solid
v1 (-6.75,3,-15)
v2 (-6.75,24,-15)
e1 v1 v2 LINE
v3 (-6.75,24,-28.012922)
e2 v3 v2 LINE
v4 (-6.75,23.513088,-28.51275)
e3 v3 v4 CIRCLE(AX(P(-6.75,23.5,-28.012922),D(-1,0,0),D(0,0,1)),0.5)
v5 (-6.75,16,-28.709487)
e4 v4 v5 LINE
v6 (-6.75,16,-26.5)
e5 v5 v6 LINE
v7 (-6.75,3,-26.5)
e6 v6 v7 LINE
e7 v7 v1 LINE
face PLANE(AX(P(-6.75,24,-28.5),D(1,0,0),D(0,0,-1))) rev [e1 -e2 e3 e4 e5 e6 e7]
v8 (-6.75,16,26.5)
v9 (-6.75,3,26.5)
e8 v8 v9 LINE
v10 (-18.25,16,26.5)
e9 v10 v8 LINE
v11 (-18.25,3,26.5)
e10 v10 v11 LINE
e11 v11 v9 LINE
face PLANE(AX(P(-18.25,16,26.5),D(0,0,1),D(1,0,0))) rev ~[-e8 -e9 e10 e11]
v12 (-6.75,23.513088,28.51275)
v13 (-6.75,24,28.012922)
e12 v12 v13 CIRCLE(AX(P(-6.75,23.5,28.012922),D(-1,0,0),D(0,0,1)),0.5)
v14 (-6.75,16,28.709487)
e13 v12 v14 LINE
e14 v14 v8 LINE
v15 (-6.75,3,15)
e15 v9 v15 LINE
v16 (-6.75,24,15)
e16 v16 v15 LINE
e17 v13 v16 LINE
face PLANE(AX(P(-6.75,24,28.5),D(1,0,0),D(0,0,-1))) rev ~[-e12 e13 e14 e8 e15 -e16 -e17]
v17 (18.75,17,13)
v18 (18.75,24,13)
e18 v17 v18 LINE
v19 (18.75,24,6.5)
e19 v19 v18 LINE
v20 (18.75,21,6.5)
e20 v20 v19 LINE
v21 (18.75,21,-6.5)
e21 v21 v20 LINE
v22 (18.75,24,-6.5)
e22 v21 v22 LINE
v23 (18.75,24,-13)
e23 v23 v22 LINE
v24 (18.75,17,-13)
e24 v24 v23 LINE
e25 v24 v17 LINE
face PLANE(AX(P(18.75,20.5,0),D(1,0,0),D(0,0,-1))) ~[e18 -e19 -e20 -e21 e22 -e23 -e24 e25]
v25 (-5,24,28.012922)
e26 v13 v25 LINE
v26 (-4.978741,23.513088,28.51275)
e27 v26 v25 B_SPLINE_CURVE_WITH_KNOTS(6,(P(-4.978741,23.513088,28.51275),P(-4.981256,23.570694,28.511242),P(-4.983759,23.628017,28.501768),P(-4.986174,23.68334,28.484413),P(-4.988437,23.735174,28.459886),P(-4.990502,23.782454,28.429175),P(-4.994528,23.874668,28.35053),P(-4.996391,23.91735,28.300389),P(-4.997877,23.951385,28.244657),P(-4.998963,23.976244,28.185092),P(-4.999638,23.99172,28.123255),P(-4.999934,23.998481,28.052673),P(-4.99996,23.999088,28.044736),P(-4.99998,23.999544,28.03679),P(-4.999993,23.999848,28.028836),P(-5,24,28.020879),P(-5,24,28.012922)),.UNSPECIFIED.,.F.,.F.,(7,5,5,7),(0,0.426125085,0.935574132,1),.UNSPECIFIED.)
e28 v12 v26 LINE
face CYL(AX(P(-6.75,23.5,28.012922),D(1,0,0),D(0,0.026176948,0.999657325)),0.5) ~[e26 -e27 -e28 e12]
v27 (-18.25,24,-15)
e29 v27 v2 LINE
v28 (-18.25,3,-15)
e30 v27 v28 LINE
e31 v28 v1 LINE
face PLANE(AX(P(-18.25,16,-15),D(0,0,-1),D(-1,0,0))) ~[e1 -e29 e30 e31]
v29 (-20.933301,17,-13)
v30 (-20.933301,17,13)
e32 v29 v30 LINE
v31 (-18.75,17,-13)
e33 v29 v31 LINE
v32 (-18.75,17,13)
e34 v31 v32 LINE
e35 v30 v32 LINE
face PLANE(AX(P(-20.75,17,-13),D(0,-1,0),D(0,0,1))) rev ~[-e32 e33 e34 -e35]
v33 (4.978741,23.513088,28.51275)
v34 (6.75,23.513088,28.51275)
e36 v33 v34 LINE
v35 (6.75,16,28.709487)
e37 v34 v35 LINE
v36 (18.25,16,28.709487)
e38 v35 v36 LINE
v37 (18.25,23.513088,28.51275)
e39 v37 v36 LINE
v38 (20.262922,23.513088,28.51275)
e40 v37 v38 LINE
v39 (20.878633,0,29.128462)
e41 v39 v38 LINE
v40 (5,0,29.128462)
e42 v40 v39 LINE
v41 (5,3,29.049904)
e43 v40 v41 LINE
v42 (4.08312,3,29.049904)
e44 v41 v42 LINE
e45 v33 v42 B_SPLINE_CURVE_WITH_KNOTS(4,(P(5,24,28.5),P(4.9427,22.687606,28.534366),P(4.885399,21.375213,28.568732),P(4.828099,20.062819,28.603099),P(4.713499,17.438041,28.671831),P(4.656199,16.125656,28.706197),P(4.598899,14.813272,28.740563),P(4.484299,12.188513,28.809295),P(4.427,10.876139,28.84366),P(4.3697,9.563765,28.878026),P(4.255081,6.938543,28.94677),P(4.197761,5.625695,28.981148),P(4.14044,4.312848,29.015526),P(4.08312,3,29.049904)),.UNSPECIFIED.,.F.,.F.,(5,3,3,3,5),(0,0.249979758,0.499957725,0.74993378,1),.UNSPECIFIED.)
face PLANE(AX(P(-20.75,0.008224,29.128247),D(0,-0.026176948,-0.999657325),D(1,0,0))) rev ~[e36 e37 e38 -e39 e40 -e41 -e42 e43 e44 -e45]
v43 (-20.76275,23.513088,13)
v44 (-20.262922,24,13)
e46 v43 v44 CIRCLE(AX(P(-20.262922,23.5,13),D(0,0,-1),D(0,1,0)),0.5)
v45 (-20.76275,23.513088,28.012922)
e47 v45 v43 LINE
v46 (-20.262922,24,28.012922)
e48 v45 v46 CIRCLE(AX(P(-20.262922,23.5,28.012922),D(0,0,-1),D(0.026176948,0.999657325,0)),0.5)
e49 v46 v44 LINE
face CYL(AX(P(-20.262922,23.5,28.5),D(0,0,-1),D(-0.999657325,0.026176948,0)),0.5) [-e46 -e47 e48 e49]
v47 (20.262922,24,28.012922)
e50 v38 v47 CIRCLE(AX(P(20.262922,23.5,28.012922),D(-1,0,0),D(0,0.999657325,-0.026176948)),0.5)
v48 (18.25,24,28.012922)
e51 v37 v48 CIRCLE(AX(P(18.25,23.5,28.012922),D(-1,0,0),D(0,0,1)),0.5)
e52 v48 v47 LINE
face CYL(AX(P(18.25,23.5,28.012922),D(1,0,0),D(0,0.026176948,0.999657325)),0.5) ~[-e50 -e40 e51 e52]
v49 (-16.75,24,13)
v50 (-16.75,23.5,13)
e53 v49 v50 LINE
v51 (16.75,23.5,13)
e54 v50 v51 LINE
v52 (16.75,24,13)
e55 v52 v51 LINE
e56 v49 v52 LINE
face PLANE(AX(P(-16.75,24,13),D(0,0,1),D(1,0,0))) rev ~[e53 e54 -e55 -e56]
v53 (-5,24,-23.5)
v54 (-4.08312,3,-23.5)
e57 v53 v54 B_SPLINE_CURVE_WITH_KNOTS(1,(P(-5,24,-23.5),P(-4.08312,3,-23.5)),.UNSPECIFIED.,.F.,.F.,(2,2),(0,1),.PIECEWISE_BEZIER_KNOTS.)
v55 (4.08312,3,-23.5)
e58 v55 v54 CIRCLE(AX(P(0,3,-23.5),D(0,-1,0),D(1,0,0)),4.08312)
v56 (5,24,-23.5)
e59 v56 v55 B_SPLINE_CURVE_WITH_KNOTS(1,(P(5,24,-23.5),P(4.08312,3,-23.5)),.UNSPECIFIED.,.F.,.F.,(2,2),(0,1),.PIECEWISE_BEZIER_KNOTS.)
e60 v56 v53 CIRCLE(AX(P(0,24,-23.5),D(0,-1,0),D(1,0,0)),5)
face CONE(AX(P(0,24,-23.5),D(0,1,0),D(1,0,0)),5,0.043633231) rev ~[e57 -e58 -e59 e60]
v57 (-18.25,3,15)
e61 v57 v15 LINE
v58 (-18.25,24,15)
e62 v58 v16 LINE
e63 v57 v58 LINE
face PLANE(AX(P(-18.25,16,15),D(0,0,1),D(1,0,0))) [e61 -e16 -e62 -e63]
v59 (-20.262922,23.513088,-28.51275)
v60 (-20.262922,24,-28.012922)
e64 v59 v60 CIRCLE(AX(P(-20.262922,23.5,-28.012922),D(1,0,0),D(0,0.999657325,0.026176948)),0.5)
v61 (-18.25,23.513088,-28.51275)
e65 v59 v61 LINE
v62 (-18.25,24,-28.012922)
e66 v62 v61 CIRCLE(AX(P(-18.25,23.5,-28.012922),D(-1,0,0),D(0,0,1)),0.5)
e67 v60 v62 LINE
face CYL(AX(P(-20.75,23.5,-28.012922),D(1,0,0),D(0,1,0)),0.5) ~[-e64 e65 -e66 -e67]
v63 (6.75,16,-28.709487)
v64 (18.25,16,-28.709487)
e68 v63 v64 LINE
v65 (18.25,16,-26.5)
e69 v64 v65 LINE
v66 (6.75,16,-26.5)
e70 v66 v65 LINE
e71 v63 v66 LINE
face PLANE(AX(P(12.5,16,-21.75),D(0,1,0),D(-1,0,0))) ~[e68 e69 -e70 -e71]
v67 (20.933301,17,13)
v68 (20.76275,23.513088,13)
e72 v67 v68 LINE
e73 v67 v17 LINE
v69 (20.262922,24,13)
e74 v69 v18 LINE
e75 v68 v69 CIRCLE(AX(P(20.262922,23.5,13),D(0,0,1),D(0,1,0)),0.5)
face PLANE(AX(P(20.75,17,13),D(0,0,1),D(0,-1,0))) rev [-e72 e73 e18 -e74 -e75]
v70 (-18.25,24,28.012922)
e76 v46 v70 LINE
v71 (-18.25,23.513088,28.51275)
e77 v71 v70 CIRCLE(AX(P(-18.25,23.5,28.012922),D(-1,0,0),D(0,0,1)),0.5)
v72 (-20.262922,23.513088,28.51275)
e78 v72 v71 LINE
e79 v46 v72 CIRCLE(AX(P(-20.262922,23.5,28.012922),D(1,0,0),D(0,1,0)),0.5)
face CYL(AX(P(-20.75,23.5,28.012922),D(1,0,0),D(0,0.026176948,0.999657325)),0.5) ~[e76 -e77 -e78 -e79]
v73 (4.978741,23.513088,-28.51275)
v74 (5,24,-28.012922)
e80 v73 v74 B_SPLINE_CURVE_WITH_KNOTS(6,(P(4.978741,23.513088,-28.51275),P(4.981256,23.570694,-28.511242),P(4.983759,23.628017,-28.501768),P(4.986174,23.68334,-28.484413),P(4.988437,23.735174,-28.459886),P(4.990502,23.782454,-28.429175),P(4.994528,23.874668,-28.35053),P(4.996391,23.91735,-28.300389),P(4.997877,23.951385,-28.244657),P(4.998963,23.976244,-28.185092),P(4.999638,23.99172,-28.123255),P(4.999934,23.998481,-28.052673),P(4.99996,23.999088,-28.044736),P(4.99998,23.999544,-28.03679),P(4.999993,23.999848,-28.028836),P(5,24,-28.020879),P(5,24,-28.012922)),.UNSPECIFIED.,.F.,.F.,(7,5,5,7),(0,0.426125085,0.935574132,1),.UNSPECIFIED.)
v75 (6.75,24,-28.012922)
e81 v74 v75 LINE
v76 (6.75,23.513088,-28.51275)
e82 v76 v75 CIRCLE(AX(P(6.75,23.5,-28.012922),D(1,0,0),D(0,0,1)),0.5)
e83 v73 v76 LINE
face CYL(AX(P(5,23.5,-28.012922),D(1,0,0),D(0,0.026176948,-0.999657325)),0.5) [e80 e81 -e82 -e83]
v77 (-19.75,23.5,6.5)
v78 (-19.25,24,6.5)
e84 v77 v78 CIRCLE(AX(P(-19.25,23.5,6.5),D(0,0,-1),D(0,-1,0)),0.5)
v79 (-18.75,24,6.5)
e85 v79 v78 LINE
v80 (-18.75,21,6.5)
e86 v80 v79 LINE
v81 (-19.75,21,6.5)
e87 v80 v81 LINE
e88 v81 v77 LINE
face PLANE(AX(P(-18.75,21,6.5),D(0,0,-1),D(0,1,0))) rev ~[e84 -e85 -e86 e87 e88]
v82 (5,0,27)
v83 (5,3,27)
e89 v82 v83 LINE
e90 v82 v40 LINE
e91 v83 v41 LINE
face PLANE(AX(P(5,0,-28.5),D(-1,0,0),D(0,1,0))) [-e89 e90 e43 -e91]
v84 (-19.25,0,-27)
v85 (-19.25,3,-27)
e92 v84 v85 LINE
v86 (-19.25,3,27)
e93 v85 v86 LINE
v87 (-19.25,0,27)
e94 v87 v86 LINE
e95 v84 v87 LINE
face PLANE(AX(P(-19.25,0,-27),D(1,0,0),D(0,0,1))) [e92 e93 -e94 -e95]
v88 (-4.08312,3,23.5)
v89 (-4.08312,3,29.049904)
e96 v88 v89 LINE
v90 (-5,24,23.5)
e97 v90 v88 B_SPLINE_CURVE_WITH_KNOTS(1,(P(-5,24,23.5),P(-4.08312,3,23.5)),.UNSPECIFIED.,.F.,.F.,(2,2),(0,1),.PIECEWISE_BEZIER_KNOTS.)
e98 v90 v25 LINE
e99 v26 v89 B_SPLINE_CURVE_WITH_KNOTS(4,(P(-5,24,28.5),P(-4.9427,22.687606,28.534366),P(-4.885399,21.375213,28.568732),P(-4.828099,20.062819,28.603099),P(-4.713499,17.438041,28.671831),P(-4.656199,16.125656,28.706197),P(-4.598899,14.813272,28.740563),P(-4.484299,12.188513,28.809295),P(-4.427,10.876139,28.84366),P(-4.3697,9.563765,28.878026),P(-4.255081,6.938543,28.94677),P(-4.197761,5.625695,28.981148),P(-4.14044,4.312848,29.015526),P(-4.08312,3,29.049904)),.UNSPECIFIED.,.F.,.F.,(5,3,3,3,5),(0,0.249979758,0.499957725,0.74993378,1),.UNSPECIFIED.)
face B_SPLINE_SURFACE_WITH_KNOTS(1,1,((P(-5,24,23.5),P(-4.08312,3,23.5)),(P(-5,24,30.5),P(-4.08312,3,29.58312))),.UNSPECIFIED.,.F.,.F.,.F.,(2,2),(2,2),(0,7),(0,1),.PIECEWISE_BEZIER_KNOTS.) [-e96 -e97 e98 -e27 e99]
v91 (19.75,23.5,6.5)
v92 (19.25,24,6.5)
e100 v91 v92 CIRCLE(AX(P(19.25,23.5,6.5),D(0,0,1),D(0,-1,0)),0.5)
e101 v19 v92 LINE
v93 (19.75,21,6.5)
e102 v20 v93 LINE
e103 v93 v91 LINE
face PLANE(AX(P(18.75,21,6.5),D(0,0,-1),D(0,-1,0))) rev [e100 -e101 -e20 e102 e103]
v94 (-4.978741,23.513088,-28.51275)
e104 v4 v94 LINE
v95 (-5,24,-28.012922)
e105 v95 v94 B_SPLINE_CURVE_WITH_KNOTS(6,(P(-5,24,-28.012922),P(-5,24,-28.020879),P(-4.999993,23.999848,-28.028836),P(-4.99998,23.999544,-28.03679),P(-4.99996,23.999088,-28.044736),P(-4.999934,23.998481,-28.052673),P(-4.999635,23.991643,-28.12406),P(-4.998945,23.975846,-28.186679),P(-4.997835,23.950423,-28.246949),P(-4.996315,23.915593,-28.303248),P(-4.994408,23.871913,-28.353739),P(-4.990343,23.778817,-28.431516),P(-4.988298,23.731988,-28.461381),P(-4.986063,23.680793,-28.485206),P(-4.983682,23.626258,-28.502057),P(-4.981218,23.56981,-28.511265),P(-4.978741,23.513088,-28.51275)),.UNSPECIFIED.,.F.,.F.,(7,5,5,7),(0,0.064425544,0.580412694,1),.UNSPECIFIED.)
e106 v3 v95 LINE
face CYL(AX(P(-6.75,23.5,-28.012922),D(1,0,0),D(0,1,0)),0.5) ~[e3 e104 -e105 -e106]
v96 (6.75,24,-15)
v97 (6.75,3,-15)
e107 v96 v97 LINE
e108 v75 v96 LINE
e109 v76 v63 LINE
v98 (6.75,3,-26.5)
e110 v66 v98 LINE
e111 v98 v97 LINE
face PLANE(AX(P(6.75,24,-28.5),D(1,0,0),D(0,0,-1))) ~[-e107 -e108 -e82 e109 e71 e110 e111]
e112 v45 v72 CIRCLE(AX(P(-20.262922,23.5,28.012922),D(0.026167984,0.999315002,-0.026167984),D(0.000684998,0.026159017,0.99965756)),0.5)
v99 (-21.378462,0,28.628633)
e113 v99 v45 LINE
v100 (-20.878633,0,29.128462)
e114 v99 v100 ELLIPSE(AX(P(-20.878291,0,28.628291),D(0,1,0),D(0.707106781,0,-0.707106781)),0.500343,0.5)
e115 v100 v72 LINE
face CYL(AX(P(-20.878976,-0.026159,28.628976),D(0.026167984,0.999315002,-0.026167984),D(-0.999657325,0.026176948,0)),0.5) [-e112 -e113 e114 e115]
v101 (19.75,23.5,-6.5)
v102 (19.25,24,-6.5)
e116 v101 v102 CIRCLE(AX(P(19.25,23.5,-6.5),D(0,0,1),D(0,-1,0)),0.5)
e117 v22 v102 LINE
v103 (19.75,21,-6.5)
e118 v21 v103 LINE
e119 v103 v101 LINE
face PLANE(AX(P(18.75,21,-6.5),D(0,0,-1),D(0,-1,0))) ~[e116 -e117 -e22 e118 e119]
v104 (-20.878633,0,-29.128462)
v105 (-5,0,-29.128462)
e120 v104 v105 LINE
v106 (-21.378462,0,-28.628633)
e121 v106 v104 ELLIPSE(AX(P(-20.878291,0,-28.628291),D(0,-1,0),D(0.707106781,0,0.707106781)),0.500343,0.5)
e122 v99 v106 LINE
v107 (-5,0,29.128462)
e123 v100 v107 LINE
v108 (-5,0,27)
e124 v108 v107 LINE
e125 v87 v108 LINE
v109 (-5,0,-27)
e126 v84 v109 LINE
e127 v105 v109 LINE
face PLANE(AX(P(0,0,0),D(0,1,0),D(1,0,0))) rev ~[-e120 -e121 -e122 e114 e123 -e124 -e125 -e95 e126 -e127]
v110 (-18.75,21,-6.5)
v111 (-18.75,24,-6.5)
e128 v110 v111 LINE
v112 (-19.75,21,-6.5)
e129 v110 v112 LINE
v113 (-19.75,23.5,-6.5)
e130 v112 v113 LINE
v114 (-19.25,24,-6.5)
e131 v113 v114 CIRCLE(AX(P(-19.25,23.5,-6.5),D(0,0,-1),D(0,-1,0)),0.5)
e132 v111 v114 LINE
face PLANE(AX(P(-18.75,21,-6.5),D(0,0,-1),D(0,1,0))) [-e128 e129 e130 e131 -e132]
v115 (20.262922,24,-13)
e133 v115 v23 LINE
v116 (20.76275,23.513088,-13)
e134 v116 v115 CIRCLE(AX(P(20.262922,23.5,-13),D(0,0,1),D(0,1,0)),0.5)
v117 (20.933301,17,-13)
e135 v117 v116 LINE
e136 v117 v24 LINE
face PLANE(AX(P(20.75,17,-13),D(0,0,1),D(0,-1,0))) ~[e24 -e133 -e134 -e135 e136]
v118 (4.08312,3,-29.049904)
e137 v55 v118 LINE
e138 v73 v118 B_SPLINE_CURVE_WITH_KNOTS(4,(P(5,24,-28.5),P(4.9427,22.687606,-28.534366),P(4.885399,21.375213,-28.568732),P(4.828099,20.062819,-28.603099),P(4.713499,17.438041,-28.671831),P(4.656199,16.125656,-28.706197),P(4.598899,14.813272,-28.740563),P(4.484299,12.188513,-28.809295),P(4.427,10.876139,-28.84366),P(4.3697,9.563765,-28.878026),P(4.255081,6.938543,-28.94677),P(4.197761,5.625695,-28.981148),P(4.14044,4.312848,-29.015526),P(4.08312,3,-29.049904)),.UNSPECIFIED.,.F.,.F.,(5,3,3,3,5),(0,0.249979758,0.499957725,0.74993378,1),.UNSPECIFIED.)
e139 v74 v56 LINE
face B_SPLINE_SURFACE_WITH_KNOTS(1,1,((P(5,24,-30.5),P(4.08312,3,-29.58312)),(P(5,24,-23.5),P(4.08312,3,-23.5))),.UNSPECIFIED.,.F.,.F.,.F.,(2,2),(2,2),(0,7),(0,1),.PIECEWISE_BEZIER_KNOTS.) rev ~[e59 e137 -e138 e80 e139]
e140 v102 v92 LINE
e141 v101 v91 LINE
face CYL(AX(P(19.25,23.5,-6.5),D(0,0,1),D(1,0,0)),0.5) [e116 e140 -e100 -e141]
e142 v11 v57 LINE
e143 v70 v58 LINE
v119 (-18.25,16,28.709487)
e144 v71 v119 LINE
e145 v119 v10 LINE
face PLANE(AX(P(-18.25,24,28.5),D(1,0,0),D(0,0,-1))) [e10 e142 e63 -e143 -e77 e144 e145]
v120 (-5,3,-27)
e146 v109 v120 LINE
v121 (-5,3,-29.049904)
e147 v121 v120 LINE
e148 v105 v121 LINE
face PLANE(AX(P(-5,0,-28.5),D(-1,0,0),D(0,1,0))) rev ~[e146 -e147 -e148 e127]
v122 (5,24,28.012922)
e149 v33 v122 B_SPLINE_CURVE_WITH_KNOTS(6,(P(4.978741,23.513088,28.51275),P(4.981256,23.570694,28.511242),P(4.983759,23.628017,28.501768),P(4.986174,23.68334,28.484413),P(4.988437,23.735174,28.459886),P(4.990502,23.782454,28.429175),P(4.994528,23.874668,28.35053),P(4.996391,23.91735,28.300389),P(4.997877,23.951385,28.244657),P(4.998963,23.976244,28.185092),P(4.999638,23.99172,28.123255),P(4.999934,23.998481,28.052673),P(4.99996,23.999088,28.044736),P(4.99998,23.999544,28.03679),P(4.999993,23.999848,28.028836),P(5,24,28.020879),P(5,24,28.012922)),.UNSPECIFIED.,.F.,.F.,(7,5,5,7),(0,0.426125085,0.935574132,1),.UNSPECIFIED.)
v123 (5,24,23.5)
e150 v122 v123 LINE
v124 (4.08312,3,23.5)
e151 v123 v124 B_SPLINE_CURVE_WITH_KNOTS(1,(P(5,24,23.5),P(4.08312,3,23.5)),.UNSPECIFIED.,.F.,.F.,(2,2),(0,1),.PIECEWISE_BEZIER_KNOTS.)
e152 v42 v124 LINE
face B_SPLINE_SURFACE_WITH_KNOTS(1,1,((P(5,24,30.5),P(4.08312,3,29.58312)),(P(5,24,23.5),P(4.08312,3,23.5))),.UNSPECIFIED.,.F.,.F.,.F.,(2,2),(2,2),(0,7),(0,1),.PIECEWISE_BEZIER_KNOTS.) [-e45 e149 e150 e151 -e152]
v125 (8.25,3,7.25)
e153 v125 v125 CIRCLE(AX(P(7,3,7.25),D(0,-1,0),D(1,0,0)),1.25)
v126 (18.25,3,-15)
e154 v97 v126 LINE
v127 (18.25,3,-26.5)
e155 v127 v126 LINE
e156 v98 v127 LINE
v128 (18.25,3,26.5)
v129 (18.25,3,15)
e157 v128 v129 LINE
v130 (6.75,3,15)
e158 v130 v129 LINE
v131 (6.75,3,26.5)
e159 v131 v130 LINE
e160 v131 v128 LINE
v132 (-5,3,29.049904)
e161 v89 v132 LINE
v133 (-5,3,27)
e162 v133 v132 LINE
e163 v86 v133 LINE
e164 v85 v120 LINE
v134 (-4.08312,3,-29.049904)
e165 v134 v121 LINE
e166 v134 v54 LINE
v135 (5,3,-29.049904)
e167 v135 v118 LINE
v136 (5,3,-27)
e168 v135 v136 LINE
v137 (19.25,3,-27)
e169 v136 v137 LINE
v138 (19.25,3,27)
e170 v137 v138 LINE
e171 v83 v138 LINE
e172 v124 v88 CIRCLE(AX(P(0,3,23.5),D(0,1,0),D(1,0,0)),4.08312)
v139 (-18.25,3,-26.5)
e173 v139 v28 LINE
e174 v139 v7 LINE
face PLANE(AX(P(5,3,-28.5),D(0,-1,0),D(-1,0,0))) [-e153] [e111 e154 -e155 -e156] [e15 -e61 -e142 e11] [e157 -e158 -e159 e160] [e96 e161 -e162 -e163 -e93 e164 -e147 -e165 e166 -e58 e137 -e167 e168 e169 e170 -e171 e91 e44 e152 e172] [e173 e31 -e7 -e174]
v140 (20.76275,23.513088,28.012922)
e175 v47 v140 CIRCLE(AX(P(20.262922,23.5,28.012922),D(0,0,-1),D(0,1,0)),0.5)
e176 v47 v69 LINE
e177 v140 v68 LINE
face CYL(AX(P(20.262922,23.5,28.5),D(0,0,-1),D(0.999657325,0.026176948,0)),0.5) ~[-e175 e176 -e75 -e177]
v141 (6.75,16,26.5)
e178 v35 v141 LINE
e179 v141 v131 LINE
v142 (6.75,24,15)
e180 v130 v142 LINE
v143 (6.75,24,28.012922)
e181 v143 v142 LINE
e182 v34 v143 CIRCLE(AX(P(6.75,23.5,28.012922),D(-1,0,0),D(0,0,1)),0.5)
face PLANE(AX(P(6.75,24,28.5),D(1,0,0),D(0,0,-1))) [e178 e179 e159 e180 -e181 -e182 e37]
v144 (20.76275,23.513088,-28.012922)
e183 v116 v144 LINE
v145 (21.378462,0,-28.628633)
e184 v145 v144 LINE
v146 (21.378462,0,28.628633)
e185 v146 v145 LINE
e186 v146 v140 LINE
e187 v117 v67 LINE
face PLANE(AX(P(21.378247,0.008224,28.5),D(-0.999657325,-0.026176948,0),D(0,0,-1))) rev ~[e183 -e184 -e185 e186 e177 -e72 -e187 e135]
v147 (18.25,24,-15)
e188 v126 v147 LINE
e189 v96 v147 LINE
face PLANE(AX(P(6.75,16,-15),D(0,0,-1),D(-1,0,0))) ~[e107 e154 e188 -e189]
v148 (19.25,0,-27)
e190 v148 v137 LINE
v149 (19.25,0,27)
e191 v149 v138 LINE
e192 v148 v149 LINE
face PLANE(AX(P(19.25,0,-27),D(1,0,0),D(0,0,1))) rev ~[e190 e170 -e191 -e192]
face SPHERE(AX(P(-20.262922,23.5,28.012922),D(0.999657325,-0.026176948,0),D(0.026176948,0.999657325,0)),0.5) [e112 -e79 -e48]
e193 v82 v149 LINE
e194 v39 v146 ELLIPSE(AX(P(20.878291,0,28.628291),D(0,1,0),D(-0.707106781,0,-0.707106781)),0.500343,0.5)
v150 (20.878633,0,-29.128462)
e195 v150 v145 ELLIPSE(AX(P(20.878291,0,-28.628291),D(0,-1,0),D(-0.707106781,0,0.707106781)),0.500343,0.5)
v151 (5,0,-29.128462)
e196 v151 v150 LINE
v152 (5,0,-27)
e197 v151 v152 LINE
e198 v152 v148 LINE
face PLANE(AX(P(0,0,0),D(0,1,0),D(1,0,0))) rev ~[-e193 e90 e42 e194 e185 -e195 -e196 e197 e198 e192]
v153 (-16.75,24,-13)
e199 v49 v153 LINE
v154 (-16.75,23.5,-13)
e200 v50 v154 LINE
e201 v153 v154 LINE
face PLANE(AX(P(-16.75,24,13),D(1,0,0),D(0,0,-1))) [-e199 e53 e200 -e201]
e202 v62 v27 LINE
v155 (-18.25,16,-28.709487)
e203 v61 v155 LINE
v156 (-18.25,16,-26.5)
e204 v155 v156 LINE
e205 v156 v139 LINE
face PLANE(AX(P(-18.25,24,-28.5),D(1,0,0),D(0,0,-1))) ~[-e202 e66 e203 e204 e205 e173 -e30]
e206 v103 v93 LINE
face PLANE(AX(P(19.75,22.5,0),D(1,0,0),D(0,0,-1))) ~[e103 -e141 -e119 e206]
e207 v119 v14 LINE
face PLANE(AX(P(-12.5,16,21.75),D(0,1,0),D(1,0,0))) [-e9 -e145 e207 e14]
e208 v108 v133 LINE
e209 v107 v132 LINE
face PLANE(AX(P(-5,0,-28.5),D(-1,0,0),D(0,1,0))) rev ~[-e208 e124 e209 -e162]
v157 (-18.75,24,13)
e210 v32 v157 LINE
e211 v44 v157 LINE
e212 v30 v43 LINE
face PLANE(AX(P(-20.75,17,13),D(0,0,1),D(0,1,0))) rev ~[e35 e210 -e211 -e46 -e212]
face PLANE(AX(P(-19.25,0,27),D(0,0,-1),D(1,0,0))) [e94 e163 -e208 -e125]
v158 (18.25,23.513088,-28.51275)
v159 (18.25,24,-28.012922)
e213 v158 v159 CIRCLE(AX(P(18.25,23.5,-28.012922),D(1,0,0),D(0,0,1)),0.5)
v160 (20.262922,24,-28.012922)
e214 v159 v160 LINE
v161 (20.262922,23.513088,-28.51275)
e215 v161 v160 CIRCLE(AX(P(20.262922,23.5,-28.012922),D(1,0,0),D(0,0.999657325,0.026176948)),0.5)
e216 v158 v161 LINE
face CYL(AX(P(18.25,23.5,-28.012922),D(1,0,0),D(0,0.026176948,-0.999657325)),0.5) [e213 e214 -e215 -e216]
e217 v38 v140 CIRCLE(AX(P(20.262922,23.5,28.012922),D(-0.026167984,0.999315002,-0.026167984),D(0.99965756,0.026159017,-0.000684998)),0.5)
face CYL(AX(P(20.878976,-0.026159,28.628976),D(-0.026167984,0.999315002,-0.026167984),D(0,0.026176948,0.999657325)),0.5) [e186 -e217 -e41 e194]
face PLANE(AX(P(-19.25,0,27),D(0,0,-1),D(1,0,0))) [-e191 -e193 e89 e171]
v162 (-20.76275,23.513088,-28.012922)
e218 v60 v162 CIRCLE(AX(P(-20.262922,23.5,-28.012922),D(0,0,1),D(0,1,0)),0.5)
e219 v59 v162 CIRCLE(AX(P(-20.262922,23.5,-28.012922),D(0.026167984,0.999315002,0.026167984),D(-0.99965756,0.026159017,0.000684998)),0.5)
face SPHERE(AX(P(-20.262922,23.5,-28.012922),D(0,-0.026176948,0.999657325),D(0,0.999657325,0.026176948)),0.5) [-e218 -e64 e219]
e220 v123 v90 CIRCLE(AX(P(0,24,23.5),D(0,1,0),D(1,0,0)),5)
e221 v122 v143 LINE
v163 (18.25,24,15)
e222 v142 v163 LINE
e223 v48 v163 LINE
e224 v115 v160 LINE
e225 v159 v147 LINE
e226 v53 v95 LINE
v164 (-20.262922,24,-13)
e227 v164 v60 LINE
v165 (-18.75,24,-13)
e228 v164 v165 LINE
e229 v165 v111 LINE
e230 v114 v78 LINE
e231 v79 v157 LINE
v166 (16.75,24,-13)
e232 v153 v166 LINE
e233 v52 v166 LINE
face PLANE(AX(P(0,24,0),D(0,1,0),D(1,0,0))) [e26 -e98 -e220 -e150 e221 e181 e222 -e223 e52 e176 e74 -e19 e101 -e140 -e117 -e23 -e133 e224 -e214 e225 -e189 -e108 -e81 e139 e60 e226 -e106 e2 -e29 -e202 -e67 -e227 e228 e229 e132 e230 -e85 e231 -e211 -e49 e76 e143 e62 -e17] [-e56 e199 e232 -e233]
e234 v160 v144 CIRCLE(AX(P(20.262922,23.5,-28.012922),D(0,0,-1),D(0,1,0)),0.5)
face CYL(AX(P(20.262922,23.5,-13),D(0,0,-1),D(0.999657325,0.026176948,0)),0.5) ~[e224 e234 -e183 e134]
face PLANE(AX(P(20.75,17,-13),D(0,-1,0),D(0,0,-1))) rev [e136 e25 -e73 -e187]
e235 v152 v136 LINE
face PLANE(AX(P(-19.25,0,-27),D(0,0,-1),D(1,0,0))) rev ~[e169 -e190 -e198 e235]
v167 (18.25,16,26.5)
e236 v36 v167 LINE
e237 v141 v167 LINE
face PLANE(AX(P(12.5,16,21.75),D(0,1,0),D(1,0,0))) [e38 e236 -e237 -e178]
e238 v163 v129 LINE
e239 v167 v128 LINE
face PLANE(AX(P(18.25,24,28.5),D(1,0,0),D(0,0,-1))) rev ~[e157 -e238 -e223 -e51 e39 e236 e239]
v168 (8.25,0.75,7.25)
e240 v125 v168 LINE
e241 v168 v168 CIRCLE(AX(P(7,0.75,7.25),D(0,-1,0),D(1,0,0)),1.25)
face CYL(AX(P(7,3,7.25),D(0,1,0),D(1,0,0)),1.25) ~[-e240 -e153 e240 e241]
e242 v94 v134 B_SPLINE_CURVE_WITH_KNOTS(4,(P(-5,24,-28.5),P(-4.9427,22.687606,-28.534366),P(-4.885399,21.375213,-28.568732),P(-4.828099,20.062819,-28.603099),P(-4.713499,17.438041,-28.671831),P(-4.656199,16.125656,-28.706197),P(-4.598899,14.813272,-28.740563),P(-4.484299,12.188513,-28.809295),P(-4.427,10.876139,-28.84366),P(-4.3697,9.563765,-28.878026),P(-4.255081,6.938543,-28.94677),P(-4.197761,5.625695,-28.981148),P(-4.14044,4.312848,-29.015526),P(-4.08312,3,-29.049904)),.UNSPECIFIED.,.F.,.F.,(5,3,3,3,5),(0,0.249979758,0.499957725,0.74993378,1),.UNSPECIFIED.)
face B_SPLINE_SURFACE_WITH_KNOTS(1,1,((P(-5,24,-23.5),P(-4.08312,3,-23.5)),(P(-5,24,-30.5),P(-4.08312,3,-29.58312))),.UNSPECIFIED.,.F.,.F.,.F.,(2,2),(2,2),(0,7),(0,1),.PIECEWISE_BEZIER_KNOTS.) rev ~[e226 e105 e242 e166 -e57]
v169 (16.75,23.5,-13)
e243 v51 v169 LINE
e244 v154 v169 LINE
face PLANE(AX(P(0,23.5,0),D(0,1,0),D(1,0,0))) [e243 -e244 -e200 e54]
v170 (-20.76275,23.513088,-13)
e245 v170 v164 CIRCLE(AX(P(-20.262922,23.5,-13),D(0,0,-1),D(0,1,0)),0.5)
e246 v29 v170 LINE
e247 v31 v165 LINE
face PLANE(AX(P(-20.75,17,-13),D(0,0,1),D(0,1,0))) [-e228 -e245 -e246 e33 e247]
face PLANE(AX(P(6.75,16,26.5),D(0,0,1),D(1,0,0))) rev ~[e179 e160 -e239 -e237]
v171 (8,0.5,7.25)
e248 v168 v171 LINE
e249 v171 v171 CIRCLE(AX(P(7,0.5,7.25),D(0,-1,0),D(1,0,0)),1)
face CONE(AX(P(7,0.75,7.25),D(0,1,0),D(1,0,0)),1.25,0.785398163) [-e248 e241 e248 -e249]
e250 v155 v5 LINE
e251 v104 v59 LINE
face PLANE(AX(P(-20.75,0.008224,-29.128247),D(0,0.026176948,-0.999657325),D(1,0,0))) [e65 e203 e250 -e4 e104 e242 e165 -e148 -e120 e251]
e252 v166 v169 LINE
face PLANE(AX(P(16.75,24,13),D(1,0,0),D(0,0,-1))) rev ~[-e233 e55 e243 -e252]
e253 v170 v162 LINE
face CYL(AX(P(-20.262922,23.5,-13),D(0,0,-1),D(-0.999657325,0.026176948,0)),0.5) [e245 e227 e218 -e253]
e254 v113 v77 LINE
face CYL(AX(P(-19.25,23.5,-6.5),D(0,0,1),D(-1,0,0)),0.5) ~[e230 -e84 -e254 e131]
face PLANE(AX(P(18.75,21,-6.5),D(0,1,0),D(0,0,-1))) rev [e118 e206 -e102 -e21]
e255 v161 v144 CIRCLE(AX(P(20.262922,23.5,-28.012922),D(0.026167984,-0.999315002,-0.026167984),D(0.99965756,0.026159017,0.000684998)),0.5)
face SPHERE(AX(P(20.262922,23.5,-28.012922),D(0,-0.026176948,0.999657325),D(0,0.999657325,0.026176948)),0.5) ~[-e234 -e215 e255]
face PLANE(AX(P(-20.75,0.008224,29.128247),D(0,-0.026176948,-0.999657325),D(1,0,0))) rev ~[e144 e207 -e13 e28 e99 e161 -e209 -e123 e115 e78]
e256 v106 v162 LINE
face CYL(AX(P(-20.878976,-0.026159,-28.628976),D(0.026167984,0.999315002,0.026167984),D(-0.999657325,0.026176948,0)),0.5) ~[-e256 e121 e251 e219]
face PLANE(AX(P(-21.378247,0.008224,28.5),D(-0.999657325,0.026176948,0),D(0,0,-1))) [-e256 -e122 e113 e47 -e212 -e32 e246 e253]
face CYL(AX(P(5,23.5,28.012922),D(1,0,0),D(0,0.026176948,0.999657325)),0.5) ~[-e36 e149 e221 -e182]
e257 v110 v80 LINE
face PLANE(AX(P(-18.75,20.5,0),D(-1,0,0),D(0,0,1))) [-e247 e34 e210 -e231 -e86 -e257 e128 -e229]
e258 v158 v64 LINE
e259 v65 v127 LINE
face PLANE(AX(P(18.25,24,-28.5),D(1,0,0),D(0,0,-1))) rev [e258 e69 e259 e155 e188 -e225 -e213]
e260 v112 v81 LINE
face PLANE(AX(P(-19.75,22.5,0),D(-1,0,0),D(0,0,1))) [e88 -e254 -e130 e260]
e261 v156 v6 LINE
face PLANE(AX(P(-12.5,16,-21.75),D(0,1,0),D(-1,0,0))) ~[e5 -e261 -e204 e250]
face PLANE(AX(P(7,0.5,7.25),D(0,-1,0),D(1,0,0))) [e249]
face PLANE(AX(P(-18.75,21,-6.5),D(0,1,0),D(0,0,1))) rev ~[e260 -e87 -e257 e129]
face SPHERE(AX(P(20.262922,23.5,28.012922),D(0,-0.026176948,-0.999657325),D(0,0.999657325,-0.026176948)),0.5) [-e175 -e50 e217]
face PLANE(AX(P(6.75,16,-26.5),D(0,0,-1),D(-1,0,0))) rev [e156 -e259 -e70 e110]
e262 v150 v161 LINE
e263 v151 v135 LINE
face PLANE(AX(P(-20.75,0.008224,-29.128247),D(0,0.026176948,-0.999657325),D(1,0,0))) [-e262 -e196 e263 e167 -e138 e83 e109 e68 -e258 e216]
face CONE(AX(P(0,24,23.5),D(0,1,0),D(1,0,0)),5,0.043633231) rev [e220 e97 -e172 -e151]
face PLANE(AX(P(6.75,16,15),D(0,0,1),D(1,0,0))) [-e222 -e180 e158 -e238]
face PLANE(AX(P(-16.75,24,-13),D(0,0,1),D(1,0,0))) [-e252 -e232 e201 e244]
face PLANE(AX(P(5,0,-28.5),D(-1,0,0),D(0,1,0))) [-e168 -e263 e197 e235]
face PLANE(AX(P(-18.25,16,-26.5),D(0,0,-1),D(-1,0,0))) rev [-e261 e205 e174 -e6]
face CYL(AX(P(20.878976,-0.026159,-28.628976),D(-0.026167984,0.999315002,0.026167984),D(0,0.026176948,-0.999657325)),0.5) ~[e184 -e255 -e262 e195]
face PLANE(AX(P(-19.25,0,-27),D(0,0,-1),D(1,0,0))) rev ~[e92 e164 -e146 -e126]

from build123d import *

# Parameters (mm, degrees)
SKETCH1_W           = 41.5
SKETCH1_H           = 57
BOSS_EXTRUDE1_DEPTH = 24
CUT_EXTRUDE1_DEPTH  = 21
CUT_EXTRUDE1_TAPER  = 2.5
SKETCH3_W           = 11.5
SKETCH3_H           = 13.5
CUT_EXTRUDE2_DEPTH  = 8
SKETCH4_W           = 11.5
SKETCH4_H           = 11.5
CUT_EXTRUDE3_DEPTH  = 17.0000001
SKETCH5_W           = 26
SKETCH5_H           = 7
CUT_EXTRUDE4_DEPTH  = 2
SKETCH6_W           = 13
SKETCH6_H           = 3
BOSS_EXTRUDE2_DEPTH = 1
SKETCH7_W           = 33.5
SKETCH7_H           = 26
CUT_EXTRUDE5_DEPTH  = 0.5
SKETCH8_W           = 38.5
SKETCH8_H           = 54
CUT_EXTRUDE6_DEPTH  = 3
SKETCH9_W           = 10
SKETCH9_H           = 3
CUT_EXTRUDE7_DEPTH  = 58.0000001
DRAFT1_ANGLE        = 1.5
FILLET1_R           = 0.5
SKETCH10_R          = 1.25
BOSS_EXTRUDE3_DEPTH = 2.5
CHAMFER1_SIZE       = 0.25


with BuildPart() as part:
    # Sketch1 → Boss-Extrude1 (new body)
    with BuildSketch(Plane(origin=(0, 0, 0), x_dir=(1, 0, 0), z_dir=(0, 1, 0))):
        Rectangle(SKETCH1_W, SKETCH1_H)
    extrude(amount=BOSS_EXTRUDE1_DEPTH)

    # Sketch2 → Cut-Extrude1 (cut)
    with BuildSketch(Plane(origin=(0, 24, 0), x_dir=(1, 0, 0), z_dir=(0, 1, 0))):
        with BuildLine():
            Line((-5, -23.5), (-5, -30.5))
            Line((-5, -30.5), (5, -30.5))
            Line((5, -30.5), (5, -23.5))
            ThreePointArc((5, -23.5), (0, -18.5), (-5, -23.5))
        make_face()
    cut_extrude1 = extrude(amount=-CUT_EXTRUDE1_DEPTH, taper=CUT_EXTRUDE1_TAPER, mode=Mode.SUBTRACT)

    # Sketch3 → Cut-Extrude2 (cut)
    with BuildSketch(Plane(origin=(0, 24, 0), x_dir=(1, 0, 0), z_dir=(0, 1, 0))):
        with Locations((-12.5, -21.75)):
            Rectangle(SKETCH3_W, SKETCH3_H)
        with Locations((12.5, -21.75)):
            Rectangle(SKETCH3_W, SKETCH3_H)
    cut_extrude2 = extrude(amount=-CUT_EXTRUDE2_DEPTH, mode=Mode.SUBTRACT)

    # Sketch4 → Cut-Extrude3 (cut, through all)
    with BuildSketch(Plane(origin=(0, 16, 0), x_dir=(1, 0, 0), z_dir=(0, 1, 0))):
        with Locations((-12.5, -20.75)):
            Rectangle(SKETCH4_W, SKETCH4_H)
        with Locations((12.5, -20.75)):
            Rectangle(SKETCH4_W, SKETCH4_H)
    cut_extrude3 = extrude(amount=-CUT_EXTRUDE3_DEPTH, mode=Mode.SUBTRACT)

    # Mirror1: Cut-Extrude1, Cut-Extrude2, Cut-Extrude3 across plane
    add(cut_extrude1.mirror(Plane.XY), mode=Mode.SUBTRACT)
    add(cut_extrude2.mirror(Plane.XY), mode=Mode.SUBTRACT)
    add(cut_extrude3.mirror(Plane.XY), mode=Mode.SUBTRACT)

    # Sketch5 → Cut-Extrude4 (cut)
    with BuildSketch(Plane.ZY.offset(20.75)):
        with Locations((0, 20.5)):
            Rectangle(SKETCH5_W, SKETCH5_H)
    cut_extrude4 = extrude(amount=-CUT_EXTRUDE4_DEPTH, mode=Mode.SUBTRACT)

    # Sketch6 → Boss-Extrude2 (add)
    with BuildSketch(Plane.ZY.offset(18.75)):
        with Locations((0, 22.5)):
            Rectangle(SKETCH6_W, SKETCH6_H)
    boss_extrude2 = extrude(amount=BOSS_EXTRUDE2_DEPTH)

    # Mirror2: Cut-Extrude4, Boss-Extrude2 across plane
    add(cut_extrude4.mirror(Plane(origin=(0, 0, 0), x_dir=(0, 0, 1), z_dir=(1, 0, 0))), mode=Mode.SUBTRACT)
    add(boss_extrude2.mirror(Plane(origin=(0, 0, 0), x_dir=(0, 0, 1), z_dir=(1, 0, 0))))

    # Sketch7 → Cut-Extrude5 (cut)
    with BuildSketch(Plane(origin=(0, 24, 0), x_dir=(1, 0, 0), z_dir=(0, 1, 0))):
        Rectangle(SKETCH7_W, SKETCH7_H)
    extrude(amount=-CUT_EXTRUDE5_DEPTH, mode=Mode.SUBTRACT)

    # Sketch8 → Cut-Extrude6 (cut)
    with BuildSketch(Plane.XZ):
        Rectangle(SKETCH8_W, SKETCH8_H)
    extrude(amount=-CUT_EXTRUDE6_DEPTH, mode=Mode.SUBTRACT)

    # Sketch9 → Cut-Extrude7 (cut, through all)
    with BuildSketch(Plane(origin=(0, 0, -28.5), x_dir=(-1, 0, 0), z_dir=(0, 0, -1))):
        with Locations((0, 1.5)):
            Rectangle(SKETCH9_W, SKETCH9_H)
    extrude(amount=-CUT_EXTRUDE7_DEPTH, mode=Mode.SUBTRACT)

    # Draft1
    draft1_faces = [part.faces().sort_by_distance(p)[0] for p in [
        (-12.725295126, 9.445247328, -28.5),
        (12.725295126, 9.445247328, -28.5),
        (-20.75, 10.695615514, 0),
        (-12.725295126, 9.445247328, 28.5),
        (12.725295126, 9.445247328, 28.5),
        (20.75, 10.695615514, 0),
    ]]
    draft(draft1_faces, Plane.ZX.offset(24), DRAFT1_ANGLE)

    # Fillet1
    fillet1_edges = [part.edges().sort_by_distance(p)[0] for p in [
        (-20.75, 24, -20.75),
        (-19.5, 24, -28.5),
        (5.875, 24, -28.5),
        (-19.5, 24, 28.5),
        (5.875, 24, 28.5),
        (-20.75, 24, 20.75),
        (-19.75, 24, 0),
        (20.75, 24, -20.75),
        (19.75, 24, 0),
        (-5.875, 24, 28.5),
        (20.75, 24, 20.75),
        (19.5, 24, 28.5),
        (19.5, 24, -28.5),
        (21.064231059, 12, 28.814231059),
        (-21.064231059, 12, 28.814231059),
        (-21.064231059, 12, -28.814231059),
        (21.064231059, 12, -28.814231059),
        (-5.875, 24, -28.5),
    ]]
    fillet(fillet1_edges, radius=FILLET1_R)

    # Sketch10 → Boss-Extrude3 (add)
    with BuildSketch(Plane.XZ.offset(-3)):
        with Locations((7, 7.25)):
            Circle(SKETCH10_R)
    extrude(amount=BOSS_EXTRUDE3_DEPTH)

    # Chamfer1
    chamfer1_edges = [part.edges().sort_by_distance(p)[0] for p in [
        (5.75, 0.5, 7.25),
    ]]
    chamfer(chamfer1_edges, length=CHAMFER1_SIZE)


solid = part.part
